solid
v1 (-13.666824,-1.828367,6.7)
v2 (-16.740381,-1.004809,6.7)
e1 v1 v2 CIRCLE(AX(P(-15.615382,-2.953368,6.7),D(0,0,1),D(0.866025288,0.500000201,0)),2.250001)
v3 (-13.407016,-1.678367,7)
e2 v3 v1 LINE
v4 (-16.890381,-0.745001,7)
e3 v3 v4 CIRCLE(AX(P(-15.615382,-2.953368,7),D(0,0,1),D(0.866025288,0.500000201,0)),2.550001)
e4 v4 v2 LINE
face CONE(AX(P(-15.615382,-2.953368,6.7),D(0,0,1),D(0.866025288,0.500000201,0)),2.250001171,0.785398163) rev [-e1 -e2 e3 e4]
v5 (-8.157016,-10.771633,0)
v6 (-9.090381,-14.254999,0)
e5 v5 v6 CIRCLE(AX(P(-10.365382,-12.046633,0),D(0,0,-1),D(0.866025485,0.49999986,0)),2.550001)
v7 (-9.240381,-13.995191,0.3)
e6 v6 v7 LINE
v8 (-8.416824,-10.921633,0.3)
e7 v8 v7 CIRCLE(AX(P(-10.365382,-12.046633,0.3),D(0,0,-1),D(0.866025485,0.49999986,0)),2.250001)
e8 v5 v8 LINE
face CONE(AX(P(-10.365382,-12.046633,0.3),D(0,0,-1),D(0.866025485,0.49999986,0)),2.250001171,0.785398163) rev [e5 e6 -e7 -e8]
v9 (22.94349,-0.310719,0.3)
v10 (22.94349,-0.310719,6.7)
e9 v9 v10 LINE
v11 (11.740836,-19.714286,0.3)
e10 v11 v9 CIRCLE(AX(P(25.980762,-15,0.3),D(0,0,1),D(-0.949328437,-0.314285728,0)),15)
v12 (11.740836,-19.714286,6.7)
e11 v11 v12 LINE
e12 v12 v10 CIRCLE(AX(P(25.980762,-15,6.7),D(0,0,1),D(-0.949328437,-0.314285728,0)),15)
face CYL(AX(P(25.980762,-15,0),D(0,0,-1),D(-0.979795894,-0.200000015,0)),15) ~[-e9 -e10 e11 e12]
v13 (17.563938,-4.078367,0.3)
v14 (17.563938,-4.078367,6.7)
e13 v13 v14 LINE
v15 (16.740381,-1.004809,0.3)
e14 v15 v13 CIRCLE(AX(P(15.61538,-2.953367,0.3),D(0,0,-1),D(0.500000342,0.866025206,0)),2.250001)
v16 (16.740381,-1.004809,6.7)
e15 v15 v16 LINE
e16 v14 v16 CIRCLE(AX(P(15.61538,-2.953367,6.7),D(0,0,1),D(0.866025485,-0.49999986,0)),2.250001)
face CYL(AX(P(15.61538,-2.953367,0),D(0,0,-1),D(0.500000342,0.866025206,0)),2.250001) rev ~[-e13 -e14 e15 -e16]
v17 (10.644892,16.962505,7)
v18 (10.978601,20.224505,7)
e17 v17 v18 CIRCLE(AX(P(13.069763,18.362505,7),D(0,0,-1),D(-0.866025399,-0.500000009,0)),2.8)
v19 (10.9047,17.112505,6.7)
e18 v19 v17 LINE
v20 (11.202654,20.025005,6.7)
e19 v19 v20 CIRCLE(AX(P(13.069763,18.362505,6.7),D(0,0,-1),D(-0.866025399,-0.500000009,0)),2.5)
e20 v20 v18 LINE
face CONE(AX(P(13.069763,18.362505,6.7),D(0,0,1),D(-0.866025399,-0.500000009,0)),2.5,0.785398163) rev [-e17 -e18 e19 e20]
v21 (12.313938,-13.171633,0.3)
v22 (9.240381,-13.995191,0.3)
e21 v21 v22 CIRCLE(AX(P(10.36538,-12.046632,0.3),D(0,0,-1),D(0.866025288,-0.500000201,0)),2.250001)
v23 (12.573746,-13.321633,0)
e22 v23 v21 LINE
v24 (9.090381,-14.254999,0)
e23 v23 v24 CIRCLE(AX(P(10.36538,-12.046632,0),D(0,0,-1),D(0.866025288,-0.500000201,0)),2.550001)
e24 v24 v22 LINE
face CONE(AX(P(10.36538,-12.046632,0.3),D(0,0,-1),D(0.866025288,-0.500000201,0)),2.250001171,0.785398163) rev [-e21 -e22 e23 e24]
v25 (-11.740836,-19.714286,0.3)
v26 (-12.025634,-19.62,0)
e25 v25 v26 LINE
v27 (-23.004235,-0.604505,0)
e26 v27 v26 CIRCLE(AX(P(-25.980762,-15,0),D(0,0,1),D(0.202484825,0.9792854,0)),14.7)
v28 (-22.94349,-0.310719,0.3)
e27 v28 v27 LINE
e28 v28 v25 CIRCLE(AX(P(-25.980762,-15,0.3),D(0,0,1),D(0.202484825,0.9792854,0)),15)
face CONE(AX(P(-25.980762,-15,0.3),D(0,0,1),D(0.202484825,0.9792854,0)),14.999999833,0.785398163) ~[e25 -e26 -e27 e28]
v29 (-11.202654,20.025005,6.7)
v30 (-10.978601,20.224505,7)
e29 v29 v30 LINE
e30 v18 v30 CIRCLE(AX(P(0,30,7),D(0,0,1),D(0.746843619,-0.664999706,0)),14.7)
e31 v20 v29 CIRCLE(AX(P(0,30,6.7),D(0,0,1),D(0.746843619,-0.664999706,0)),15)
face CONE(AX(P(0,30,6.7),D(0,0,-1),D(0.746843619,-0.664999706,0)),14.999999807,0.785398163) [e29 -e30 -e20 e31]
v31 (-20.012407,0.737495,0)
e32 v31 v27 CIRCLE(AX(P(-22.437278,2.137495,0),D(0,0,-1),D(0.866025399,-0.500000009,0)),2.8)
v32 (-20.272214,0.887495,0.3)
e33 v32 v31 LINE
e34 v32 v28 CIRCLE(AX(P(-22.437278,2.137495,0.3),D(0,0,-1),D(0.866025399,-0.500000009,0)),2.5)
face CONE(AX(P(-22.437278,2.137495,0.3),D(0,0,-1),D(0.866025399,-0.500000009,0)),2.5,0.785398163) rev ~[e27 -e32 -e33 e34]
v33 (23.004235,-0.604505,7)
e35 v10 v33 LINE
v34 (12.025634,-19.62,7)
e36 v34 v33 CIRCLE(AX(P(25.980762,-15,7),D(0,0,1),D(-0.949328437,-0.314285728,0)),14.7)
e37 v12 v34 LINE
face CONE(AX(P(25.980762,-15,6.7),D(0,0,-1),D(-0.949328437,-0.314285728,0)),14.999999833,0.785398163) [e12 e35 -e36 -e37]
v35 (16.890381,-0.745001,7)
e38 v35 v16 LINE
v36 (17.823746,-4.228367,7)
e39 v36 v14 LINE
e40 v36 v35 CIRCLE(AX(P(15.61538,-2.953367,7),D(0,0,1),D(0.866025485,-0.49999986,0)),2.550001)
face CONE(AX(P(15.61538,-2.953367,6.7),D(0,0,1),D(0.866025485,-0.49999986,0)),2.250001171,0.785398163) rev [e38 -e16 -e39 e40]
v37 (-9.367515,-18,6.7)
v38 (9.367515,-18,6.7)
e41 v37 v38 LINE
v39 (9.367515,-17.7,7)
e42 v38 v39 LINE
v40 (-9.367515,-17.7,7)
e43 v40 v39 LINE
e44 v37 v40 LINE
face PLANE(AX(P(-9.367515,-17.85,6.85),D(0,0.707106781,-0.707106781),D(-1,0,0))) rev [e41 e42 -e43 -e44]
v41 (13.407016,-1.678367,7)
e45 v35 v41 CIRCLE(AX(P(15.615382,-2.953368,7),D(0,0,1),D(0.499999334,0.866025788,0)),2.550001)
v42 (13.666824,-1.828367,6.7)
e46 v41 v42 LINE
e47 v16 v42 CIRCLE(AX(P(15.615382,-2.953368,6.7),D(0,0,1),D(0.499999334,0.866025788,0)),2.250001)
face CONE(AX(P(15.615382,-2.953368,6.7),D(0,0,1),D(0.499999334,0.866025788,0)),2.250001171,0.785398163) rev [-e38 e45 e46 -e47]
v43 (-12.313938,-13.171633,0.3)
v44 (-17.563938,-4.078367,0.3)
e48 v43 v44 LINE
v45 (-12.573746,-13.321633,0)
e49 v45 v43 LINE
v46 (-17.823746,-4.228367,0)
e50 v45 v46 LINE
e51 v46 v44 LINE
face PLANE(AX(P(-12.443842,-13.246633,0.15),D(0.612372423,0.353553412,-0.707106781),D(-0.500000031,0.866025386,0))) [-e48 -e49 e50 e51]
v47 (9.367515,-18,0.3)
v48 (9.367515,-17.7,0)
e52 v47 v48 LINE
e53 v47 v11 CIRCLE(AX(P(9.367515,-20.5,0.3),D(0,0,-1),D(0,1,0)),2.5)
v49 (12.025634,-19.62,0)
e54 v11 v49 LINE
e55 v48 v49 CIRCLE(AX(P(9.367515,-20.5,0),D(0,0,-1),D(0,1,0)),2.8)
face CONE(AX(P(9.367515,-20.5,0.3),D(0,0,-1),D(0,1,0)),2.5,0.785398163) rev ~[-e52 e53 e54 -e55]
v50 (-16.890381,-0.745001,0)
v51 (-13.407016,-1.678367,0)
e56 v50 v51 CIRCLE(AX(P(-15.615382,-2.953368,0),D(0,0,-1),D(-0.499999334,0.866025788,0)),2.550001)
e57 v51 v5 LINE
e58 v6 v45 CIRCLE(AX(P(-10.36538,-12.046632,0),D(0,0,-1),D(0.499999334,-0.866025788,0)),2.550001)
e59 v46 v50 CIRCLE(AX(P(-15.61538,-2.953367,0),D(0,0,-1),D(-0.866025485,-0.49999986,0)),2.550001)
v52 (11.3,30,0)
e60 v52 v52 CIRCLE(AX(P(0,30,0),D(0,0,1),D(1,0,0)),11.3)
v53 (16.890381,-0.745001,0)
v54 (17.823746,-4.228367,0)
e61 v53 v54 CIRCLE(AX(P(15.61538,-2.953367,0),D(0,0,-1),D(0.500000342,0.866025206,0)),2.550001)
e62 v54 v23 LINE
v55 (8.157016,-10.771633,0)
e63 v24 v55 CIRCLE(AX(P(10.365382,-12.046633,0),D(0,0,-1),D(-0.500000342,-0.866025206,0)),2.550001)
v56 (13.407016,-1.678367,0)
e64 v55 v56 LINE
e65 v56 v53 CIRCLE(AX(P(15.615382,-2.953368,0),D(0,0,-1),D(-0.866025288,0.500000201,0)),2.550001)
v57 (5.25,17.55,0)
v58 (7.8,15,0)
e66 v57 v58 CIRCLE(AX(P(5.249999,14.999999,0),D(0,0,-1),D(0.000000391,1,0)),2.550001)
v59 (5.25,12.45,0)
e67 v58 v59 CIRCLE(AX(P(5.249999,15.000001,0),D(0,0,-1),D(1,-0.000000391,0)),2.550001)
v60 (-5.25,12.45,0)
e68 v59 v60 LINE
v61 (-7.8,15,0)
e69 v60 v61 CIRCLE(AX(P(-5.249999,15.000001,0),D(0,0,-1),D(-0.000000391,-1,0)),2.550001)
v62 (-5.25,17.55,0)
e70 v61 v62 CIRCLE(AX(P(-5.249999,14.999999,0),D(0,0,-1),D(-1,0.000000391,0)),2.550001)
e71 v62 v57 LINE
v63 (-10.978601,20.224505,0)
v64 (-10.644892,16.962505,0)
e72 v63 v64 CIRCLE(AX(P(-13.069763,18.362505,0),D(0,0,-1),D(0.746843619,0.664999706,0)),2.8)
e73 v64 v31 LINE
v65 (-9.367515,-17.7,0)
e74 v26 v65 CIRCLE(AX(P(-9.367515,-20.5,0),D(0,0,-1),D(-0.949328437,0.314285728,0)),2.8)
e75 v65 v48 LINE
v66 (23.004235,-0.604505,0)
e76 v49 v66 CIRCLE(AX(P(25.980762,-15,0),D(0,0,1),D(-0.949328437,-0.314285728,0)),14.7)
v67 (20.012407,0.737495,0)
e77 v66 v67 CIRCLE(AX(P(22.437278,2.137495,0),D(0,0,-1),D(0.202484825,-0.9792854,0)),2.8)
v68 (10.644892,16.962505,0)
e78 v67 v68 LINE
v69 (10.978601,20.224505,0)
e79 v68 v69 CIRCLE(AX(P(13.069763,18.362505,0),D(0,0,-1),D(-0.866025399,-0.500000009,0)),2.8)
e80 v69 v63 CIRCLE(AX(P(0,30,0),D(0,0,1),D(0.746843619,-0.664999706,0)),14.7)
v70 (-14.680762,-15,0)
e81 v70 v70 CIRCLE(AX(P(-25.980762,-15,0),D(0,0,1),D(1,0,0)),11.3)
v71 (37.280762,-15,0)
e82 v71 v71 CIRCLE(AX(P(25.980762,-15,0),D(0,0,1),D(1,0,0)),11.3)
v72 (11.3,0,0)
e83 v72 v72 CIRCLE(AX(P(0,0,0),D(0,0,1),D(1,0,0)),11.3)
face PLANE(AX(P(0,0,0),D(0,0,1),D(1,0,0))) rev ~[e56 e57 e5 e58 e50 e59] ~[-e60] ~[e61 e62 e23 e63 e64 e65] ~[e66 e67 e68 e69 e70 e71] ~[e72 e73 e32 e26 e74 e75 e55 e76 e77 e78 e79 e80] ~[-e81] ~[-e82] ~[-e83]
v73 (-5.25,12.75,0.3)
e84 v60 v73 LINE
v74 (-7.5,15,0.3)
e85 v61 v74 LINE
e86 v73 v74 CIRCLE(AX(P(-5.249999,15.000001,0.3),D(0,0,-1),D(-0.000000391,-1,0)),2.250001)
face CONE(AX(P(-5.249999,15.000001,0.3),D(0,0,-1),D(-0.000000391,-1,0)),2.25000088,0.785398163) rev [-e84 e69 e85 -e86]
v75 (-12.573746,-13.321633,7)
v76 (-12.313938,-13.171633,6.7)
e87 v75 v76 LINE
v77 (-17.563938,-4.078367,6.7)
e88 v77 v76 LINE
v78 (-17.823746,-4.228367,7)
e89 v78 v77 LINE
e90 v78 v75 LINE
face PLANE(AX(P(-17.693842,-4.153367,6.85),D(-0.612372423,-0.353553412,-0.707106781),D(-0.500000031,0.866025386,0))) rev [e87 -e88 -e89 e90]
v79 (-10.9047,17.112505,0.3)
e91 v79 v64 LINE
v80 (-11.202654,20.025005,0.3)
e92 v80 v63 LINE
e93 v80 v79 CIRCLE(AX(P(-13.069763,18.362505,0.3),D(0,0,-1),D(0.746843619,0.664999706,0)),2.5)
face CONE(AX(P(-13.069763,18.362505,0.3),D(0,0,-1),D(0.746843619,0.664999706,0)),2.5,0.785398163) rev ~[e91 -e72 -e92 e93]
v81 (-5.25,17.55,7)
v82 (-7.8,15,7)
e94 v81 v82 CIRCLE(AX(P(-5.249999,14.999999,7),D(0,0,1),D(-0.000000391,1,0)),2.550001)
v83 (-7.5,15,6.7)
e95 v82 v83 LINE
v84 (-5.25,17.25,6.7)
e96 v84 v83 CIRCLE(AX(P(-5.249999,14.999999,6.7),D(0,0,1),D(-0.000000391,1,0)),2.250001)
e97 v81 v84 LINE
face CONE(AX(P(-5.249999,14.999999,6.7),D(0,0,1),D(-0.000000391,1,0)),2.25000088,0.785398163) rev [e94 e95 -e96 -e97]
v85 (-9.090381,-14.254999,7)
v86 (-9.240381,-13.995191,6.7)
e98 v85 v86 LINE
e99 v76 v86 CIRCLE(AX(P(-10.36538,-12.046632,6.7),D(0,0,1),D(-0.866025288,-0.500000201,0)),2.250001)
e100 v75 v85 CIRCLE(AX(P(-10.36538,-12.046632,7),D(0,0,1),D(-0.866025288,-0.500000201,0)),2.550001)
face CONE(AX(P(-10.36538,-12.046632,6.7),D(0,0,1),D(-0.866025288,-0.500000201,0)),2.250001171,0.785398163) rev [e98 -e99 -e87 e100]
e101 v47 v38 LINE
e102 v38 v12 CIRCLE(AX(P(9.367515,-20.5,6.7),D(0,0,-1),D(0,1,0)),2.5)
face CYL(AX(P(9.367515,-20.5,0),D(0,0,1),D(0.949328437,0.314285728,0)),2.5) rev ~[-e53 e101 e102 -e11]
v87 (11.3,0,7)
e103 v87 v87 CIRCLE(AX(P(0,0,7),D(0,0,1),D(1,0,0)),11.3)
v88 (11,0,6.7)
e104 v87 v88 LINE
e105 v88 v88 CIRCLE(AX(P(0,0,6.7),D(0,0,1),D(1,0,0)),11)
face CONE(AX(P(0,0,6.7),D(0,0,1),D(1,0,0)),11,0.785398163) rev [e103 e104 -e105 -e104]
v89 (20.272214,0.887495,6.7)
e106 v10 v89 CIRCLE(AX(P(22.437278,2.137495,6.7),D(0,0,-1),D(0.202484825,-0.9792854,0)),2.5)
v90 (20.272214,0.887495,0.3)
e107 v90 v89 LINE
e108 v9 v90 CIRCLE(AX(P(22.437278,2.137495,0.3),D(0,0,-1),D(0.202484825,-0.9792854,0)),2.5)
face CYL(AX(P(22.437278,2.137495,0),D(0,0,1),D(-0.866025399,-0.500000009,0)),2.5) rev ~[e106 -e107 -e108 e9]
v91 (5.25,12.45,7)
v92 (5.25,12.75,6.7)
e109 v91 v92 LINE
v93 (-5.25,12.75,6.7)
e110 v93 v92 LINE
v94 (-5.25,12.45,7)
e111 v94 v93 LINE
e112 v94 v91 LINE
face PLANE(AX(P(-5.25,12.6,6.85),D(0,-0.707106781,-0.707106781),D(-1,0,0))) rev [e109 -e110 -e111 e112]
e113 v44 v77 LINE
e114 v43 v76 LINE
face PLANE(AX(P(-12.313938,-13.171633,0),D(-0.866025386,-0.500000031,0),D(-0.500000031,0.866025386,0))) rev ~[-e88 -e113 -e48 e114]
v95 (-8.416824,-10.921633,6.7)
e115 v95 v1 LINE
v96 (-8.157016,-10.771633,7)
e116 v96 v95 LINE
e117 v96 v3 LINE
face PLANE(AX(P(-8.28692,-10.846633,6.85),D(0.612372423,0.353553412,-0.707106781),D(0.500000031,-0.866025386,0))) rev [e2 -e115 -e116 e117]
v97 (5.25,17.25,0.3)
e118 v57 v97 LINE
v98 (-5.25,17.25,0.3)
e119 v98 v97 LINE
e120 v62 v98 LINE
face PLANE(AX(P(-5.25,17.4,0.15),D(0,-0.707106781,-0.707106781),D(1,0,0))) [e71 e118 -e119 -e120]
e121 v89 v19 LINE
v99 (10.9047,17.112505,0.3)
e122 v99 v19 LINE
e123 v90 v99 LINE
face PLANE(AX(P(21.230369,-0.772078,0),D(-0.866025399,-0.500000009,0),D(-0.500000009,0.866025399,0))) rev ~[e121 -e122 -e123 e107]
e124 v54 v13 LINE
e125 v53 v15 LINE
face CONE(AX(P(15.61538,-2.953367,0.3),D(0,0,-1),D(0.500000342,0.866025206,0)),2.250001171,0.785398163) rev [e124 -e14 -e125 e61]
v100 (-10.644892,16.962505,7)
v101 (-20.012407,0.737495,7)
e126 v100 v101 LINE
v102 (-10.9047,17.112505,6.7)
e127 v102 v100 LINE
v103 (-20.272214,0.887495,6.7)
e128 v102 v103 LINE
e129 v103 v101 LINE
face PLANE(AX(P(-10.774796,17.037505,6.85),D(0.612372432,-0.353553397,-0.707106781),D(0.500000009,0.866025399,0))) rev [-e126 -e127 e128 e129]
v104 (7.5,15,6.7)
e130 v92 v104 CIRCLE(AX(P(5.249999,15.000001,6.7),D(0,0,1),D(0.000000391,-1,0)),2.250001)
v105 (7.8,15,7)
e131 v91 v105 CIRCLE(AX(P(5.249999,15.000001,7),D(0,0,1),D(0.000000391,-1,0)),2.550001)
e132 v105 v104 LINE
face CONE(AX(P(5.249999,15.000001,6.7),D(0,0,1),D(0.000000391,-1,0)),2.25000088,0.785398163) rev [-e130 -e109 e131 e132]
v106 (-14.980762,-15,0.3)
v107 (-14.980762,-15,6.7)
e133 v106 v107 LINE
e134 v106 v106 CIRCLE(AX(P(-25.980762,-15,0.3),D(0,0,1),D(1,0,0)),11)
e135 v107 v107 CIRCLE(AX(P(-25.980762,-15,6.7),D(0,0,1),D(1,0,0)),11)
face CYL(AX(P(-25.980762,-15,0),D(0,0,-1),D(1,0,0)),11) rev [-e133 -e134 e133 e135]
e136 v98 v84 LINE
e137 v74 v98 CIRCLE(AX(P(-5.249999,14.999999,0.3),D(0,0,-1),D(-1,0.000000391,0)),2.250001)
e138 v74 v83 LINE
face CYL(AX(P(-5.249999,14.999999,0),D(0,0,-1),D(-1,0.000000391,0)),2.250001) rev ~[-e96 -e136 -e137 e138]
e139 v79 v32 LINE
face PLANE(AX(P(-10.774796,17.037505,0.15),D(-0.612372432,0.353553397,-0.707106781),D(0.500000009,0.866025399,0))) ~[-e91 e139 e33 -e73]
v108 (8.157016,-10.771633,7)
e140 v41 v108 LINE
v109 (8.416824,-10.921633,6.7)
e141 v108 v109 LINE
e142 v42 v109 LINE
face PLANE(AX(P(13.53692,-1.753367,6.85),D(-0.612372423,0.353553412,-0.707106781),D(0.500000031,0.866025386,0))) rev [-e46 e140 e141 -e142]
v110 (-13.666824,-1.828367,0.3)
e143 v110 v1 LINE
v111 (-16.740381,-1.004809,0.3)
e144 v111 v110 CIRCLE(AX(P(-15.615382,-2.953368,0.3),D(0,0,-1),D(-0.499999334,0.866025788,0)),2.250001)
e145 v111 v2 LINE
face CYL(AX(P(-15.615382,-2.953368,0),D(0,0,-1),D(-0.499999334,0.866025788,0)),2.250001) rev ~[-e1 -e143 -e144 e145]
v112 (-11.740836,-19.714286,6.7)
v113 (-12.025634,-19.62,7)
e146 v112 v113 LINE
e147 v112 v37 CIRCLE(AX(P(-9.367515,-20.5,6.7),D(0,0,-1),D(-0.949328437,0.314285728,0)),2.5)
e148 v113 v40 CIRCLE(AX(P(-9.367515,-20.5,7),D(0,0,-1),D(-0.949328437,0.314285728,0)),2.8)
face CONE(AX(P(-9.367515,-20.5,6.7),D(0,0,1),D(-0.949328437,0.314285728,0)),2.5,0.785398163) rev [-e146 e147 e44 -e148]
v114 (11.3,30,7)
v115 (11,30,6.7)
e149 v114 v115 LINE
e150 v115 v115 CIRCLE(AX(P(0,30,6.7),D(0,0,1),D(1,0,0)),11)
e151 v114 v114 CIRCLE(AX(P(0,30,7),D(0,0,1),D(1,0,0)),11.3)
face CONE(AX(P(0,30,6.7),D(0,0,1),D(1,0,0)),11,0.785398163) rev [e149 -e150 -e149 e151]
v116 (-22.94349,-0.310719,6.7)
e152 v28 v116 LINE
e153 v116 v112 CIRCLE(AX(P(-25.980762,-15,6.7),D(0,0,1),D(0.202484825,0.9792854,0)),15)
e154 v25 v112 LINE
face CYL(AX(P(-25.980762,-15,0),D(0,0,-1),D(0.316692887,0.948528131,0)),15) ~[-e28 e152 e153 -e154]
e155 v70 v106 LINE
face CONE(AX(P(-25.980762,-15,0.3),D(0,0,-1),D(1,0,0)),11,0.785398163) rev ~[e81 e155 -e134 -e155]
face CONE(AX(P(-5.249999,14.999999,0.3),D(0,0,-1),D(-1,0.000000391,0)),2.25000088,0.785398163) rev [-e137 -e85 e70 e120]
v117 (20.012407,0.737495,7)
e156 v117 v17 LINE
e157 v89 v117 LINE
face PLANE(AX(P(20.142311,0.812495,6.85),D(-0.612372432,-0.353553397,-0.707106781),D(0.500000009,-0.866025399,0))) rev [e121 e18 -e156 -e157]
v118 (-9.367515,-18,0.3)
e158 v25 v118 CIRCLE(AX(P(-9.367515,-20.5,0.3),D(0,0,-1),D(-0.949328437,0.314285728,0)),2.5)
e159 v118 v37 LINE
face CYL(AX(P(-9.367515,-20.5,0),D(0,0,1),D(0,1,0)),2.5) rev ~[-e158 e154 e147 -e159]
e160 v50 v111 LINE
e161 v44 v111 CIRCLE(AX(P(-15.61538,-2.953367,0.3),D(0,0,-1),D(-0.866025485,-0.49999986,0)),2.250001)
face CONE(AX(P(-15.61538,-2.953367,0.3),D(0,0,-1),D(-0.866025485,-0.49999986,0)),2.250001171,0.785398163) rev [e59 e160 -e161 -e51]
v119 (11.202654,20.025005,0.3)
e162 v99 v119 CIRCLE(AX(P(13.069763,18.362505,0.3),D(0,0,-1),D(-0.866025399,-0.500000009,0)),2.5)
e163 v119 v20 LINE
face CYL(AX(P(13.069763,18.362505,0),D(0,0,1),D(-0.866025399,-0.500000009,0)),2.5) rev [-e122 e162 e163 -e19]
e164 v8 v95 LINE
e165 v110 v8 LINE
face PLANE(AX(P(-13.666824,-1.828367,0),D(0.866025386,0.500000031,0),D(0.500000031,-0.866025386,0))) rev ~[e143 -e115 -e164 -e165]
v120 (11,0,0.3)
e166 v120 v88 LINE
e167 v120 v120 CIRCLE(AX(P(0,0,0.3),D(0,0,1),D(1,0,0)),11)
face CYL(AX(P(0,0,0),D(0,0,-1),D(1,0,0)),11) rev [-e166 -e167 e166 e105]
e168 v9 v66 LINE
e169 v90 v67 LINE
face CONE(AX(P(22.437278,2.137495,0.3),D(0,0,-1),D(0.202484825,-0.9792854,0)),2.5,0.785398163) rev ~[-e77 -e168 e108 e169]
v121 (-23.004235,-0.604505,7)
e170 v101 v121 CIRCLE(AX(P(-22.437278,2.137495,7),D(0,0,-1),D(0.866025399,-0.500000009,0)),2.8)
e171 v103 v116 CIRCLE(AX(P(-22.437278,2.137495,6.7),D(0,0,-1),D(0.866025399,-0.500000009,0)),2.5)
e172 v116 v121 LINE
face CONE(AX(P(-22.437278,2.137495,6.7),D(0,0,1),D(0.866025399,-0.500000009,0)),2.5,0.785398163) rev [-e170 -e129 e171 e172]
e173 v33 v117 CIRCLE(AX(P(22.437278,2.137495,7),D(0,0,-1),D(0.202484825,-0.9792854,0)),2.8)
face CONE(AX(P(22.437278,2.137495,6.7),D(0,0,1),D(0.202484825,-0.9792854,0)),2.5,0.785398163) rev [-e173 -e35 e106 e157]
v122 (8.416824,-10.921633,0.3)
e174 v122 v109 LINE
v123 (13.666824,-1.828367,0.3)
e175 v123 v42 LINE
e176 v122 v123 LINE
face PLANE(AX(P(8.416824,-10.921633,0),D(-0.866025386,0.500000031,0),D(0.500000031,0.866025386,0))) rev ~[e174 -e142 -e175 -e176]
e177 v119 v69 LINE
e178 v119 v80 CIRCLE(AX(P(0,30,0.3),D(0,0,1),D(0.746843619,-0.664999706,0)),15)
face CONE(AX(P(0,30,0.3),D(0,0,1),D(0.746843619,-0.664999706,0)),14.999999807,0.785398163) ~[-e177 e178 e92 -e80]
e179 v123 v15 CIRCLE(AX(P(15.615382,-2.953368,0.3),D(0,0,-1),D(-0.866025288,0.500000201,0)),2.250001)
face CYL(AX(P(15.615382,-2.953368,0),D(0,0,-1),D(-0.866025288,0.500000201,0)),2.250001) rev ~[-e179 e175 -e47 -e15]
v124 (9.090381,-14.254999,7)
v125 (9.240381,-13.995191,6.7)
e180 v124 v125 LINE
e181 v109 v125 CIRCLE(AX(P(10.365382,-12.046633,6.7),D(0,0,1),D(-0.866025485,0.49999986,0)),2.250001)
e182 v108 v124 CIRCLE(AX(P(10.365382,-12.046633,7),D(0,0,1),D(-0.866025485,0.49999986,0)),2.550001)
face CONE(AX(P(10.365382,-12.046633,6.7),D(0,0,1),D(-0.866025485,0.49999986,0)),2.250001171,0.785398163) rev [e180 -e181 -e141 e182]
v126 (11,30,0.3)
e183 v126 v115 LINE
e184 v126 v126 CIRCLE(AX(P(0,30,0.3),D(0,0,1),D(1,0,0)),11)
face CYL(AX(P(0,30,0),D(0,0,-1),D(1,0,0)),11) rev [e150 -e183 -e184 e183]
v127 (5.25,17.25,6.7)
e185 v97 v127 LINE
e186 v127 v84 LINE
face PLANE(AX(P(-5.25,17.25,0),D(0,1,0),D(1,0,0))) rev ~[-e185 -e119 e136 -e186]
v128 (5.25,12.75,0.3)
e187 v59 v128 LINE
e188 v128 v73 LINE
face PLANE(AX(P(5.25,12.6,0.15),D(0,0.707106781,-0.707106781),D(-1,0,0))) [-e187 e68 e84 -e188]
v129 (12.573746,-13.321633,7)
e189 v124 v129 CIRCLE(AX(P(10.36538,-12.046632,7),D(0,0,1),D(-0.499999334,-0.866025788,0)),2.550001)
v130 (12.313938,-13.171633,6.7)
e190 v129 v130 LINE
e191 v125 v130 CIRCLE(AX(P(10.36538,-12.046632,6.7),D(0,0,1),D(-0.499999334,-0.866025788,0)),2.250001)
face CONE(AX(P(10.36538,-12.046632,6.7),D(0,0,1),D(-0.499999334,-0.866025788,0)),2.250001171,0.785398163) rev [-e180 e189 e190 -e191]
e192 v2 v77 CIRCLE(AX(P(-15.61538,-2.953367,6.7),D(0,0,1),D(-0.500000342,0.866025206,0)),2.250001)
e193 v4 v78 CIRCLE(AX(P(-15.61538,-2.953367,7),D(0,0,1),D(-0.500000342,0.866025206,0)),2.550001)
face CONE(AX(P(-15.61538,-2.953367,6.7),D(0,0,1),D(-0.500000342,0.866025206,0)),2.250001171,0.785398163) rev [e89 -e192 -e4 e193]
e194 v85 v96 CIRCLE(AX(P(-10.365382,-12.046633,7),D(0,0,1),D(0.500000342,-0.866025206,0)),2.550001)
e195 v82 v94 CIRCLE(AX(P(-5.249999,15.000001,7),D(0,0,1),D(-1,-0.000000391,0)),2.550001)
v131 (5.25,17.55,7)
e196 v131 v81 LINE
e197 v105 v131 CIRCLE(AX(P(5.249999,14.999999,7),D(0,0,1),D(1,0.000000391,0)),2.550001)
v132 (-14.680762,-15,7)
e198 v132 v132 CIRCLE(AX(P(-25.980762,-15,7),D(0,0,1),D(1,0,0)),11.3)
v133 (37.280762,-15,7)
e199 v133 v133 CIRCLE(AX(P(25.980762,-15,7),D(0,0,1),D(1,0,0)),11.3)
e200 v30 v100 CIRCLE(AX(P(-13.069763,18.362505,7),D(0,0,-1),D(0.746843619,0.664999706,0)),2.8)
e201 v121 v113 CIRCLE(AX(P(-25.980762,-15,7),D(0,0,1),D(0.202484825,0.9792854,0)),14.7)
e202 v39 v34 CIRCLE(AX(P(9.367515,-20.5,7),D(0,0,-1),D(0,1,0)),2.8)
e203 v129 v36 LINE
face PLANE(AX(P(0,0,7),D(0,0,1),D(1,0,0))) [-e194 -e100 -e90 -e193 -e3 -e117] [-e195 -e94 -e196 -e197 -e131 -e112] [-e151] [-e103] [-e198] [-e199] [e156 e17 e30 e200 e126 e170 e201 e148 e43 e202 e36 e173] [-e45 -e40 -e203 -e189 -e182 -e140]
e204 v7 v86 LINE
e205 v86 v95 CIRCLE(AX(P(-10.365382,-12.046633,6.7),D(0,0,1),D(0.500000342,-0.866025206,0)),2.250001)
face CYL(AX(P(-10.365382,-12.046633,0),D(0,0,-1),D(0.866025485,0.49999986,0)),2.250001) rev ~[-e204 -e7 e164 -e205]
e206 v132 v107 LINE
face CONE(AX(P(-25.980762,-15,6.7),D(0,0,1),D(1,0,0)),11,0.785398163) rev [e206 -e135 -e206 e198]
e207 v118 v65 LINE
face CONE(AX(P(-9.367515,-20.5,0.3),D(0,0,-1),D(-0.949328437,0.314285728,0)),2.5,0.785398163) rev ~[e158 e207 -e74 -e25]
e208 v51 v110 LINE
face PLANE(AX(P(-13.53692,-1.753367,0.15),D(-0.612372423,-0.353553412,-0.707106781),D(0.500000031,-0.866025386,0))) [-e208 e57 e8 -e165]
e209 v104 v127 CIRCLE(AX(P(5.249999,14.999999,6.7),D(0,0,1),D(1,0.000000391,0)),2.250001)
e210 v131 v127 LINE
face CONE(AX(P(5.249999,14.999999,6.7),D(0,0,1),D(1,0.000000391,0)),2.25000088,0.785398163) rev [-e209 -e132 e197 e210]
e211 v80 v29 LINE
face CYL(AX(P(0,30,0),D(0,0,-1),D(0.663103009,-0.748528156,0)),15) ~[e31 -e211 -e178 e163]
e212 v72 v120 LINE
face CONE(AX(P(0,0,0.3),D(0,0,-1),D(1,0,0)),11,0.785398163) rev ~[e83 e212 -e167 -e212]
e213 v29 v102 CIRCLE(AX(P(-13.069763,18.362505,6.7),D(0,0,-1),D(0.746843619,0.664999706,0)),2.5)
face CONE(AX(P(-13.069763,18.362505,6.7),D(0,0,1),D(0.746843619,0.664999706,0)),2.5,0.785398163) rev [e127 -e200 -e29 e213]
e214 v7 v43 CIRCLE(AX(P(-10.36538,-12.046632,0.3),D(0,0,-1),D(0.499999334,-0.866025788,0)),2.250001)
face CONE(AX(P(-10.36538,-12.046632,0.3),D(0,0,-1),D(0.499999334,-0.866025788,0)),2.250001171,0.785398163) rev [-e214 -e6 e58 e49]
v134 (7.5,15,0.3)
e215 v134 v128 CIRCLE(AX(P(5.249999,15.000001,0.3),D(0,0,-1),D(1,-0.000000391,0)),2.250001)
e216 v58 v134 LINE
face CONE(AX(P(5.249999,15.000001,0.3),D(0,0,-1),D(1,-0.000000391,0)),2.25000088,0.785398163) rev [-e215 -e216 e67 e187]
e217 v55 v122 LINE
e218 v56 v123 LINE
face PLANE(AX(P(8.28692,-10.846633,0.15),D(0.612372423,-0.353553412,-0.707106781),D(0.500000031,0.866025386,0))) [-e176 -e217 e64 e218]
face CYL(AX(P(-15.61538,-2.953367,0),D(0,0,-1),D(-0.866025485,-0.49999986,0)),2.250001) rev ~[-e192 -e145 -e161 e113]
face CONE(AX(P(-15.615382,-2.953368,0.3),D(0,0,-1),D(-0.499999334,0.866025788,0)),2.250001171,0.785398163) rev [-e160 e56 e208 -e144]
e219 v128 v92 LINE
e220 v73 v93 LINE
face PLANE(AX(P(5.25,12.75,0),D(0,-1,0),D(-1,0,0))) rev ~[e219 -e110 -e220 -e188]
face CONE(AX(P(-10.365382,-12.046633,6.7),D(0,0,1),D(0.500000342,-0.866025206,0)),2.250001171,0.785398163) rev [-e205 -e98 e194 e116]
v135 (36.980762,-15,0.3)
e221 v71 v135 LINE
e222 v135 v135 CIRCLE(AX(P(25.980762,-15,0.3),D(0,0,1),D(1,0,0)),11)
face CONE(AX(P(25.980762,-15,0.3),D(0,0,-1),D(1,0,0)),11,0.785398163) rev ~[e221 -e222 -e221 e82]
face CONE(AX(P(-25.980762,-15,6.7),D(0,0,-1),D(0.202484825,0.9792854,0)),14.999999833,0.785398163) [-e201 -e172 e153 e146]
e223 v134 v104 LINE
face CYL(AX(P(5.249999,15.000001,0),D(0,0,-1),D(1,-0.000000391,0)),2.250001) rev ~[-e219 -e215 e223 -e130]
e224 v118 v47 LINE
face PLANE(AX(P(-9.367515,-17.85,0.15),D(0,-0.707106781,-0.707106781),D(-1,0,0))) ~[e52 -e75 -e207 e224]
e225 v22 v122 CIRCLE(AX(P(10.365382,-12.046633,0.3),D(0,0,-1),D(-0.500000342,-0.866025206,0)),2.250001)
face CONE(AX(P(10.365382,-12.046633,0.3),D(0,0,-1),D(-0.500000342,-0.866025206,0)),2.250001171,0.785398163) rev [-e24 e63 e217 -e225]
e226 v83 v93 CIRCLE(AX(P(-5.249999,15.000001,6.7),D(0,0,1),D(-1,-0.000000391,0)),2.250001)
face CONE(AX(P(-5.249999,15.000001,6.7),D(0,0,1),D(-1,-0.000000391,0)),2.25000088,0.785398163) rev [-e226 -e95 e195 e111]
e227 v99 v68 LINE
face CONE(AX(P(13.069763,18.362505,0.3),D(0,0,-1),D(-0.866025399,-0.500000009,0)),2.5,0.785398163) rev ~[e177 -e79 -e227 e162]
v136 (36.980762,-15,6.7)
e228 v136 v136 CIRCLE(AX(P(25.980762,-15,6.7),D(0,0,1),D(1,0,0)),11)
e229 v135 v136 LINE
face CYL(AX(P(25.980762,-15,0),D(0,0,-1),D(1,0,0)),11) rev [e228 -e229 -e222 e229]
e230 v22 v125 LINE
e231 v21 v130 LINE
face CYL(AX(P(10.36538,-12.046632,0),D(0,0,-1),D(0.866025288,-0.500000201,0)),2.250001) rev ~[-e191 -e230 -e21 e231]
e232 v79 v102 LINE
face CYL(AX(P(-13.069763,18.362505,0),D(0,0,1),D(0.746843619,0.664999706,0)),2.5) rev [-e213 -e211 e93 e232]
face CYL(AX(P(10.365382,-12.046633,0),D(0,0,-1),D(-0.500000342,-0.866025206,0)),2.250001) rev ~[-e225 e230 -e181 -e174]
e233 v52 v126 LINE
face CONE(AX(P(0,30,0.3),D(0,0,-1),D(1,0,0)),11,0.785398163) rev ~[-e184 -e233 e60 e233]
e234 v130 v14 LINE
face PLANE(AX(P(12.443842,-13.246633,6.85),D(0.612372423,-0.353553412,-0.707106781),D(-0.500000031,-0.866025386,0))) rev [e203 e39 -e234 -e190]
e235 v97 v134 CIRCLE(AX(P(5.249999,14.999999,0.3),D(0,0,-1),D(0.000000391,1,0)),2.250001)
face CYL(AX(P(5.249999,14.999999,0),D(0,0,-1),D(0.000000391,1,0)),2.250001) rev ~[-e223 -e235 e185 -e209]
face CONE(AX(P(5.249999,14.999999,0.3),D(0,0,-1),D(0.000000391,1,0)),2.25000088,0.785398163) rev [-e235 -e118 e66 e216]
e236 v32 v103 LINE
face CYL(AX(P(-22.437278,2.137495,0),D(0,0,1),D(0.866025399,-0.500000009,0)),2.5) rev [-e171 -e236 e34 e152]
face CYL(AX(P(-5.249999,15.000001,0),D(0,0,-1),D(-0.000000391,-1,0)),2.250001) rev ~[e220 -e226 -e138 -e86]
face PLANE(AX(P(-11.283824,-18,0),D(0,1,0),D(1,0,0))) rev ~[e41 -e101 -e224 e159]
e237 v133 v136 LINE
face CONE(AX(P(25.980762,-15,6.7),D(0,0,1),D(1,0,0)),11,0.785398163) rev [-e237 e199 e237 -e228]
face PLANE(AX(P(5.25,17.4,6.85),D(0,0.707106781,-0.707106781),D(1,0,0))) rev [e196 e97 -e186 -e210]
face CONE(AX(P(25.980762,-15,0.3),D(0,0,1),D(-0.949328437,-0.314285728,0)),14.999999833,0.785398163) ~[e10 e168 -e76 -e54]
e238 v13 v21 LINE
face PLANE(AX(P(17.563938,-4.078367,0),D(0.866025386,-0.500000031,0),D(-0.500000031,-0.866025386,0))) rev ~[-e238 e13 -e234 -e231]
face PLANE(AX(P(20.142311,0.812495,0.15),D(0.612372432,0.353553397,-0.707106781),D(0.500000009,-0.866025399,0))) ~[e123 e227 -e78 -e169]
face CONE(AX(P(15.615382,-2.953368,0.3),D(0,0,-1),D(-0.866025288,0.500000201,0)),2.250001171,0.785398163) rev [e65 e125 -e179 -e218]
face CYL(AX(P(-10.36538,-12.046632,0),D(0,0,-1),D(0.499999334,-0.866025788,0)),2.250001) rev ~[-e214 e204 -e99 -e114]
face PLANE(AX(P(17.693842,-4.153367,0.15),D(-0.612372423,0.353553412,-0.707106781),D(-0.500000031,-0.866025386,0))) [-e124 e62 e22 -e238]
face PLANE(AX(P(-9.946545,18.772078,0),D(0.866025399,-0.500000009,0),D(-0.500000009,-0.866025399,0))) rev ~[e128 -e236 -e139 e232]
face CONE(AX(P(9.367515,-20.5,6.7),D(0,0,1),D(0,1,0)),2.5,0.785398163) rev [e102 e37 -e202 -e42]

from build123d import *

# Parameters (mm, degrees)
F0_R     = 11
F1_DEPTH = 7
F2_R     = 2.5
F4_DEPTH = 25
F5_SIZE  = 0.3


with BuildPart() as f1:
    # F0 (on Top) → F1 (new body)
    with BuildSketch(Plane.XY):
        with BuildLine():
            Line((21.230369, -0.772078), (9.946545, 18.772078))
            ThreePointArc((9.946545, 18.772078), (0, 45), (-9.946545, 18.772078))
            Line((-9.946545, 18.772078), (-21.230369, -0.772078))
            ThreePointArc((-21.230369, -0.772078), (-38.971143, -22.5), (-11.283824, -18))
            Line((-11.283824, -18), (11.283824, -18))
            ThreePointArc((11.283824, -18), (38.971143, -22.5), (21.230369, -0.772078))
        make_face()
        with Locations((-25.980762, -15)):
            Circle(F0_R, mode=Mode.SUBTRACT)
        with Locations((25.980762, -15)):
            Circle(F0_R, mode=Mode.SUBTRACT)
        Circle(F0_R, mode=Mode.SUBTRACT)
        with Locations((0, 30)):
            Circle(F0_R, mode=Mode.SUBTRACT)
    extrude(amount=F1_DEPTH)

    # F2
    f2_edges = [f1.edges().sort_by_distance(p)[0] for p in [
        (11.283824, -18, 3.5),
        (-11.283824, -18, 3.5),
        (-21.230369, -0.772078, 3.5),
        (9.946545, 18.772078, 3.5),
        (21.230369, -0.772078, 3.5),
        (-9.946545, 18.772078, 3.5),
    ]]
    fillet(f2_edges, radius=F2_R)

    # F3 (on face) → F4 (cut)
    with BuildSketch(Plane(origin=(0, 0, 0), x_dir=(1, 0, 0), z_dir=(0, 0, -1))):
        with BuildLine():
            ThreePointArc((7.5, -15), (6.84099, -13.40901), (5.25, -12.75))
            Line((5.25, -12.75), (-5.25, -12.75))
            ThreePointArc((-5.25, -12.75), (-6.84099, -13.40901), (-7.5, -15))
            ThreePointArc((-7.5, -15), (-6.84099, -16.59099), (-5.25, -17.25))
            Line((-5.25, -17.25), (5.25, -17.25))
            ThreePointArc((5.25, -17.25), (6.84099, -16.59099), (7.5, -15))
        make_face()
        with BuildLine():
            ThreePointArc((13.666824, 1.828367), (15.033038, 0.780034), (16.740381, 1.004809))
            ThreePointArc((16.740381, 1.004809), (17.788714, 2.371024), (17.563938, 4.078367))
            Line((17.563938, 4.078367), (12.313938, 13.171633))
            ThreePointArc((12.313938, 13.171633), (10.947724, 14.219966), (9.240381, 13.995191))
            ThreePointArc((9.240381, 13.995191), (8.192048, 12.628976), (8.416824, 10.921633))
            Line((8.416824, 10.921633), (13.666824, 1.828367))
        make_face()
        with BuildLine():
            ThreePointArc((-8.416824, 10.921633), (-8.192048, 12.628976), (-9.240381, 13.995191))
            ThreePointArc((-9.240381, 13.995191), (-10.947724, 14.219966), (-12.313938, 13.171633))
            Line((-12.313938, 13.171633), (-17.563938, 4.078367))
            ThreePointArc((-17.563938, 4.078367), (-17.788714, 2.371024), (-16.740381, 1.004809))
            ThreePointArc((-16.740381, 1.004809), (-15.033038, 0.780034), (-13.666824, 1.828367))
            Line((-13.666824, 1.828367), (-8.416824, 10.921633))
        make_face()
    extrude(amount=-F4_DEPTH, mode=Mode.SUBTRACT)

    # F5
    f5_edges = [f1.edges().sort_by_distance(p)[0] for p in [
        (15.588457, 9, 0),
        (21.414108, -0.143541, 0),
        (10.582744, 18.616932, 0),
        (38.971143, -22.5, 0),
        (0, 45, 0),
        (10.831364, -18.473391, 0),
        (-10.582744, 18.616932, 0),
        (0, -18, 0),
        (-15.588457, 9, 0),
        (-10.831364, -18.473391, 0),
        (-21.414108, -0.143541, 0),
        (-38.971143, -22.5, 0),
        (-36.980762, -15, 0),
        (-9.240381, -13.995191, 0),
        (-11.041824, -6.375, 0),
        (-16.740381, -1.004809, 0),
        (-14.938938, -8.625, 0),
        (14.980762, -15, 0),
        (9.240381, -13.995191, 0),
        (14.938938, -8.625, 0),
        (16.740381, -1.004809, 0),
        (11.041824, -6.375, 0),
        (-11, 0, 0),
        (7.5, 15, 0),
        (0, 17.25, 0),
        (-7.5, 15, 0),
        (0, 12.75, 0),
        (-11, 30, 0),
        (15.588457, 9, 7),
        (21.414108, -0.143541, 7),
        (10.582744, 18.616932, 7),
        (38.971143, -22.5, 7),
        (0, 45, 7),
        (10.831364, -18.473391, 7),
        (-10.582744, 18.616932, 7),
        (0, -18, 7),
        (-15.588457, 9, 7),
        (-10.831364, -18.473391, 7),
        (-21.414108, -0.143541, 7),
        (-38.971143, -22.5, 7),
        (-36.980762, -15, 7),
        (-11.041824, -6.375, 7),
        (-16.740381, -1.004809, 7),
        (-14.938938, -8.625, 7),
        (-9.240381, -13.995191, 7),
        (14.980762, -15, 7),
        (11.041824, -6.375, 7),
        (9.240381, -13.995191, 7),
        (14.938938, -8.625, 7),
        (16.740381, -1.004809, 7),
        (-11, 0, 7),
        (0, 17.25, 7),
        (-7.5, 15, 7),
        (0, 12.75, 7),
        (7.5, 15, 7),
        (-11, 30, 7),
    ]]
    chamfer(f5_edges, length=F5_SIZE)


solid = f1.part
